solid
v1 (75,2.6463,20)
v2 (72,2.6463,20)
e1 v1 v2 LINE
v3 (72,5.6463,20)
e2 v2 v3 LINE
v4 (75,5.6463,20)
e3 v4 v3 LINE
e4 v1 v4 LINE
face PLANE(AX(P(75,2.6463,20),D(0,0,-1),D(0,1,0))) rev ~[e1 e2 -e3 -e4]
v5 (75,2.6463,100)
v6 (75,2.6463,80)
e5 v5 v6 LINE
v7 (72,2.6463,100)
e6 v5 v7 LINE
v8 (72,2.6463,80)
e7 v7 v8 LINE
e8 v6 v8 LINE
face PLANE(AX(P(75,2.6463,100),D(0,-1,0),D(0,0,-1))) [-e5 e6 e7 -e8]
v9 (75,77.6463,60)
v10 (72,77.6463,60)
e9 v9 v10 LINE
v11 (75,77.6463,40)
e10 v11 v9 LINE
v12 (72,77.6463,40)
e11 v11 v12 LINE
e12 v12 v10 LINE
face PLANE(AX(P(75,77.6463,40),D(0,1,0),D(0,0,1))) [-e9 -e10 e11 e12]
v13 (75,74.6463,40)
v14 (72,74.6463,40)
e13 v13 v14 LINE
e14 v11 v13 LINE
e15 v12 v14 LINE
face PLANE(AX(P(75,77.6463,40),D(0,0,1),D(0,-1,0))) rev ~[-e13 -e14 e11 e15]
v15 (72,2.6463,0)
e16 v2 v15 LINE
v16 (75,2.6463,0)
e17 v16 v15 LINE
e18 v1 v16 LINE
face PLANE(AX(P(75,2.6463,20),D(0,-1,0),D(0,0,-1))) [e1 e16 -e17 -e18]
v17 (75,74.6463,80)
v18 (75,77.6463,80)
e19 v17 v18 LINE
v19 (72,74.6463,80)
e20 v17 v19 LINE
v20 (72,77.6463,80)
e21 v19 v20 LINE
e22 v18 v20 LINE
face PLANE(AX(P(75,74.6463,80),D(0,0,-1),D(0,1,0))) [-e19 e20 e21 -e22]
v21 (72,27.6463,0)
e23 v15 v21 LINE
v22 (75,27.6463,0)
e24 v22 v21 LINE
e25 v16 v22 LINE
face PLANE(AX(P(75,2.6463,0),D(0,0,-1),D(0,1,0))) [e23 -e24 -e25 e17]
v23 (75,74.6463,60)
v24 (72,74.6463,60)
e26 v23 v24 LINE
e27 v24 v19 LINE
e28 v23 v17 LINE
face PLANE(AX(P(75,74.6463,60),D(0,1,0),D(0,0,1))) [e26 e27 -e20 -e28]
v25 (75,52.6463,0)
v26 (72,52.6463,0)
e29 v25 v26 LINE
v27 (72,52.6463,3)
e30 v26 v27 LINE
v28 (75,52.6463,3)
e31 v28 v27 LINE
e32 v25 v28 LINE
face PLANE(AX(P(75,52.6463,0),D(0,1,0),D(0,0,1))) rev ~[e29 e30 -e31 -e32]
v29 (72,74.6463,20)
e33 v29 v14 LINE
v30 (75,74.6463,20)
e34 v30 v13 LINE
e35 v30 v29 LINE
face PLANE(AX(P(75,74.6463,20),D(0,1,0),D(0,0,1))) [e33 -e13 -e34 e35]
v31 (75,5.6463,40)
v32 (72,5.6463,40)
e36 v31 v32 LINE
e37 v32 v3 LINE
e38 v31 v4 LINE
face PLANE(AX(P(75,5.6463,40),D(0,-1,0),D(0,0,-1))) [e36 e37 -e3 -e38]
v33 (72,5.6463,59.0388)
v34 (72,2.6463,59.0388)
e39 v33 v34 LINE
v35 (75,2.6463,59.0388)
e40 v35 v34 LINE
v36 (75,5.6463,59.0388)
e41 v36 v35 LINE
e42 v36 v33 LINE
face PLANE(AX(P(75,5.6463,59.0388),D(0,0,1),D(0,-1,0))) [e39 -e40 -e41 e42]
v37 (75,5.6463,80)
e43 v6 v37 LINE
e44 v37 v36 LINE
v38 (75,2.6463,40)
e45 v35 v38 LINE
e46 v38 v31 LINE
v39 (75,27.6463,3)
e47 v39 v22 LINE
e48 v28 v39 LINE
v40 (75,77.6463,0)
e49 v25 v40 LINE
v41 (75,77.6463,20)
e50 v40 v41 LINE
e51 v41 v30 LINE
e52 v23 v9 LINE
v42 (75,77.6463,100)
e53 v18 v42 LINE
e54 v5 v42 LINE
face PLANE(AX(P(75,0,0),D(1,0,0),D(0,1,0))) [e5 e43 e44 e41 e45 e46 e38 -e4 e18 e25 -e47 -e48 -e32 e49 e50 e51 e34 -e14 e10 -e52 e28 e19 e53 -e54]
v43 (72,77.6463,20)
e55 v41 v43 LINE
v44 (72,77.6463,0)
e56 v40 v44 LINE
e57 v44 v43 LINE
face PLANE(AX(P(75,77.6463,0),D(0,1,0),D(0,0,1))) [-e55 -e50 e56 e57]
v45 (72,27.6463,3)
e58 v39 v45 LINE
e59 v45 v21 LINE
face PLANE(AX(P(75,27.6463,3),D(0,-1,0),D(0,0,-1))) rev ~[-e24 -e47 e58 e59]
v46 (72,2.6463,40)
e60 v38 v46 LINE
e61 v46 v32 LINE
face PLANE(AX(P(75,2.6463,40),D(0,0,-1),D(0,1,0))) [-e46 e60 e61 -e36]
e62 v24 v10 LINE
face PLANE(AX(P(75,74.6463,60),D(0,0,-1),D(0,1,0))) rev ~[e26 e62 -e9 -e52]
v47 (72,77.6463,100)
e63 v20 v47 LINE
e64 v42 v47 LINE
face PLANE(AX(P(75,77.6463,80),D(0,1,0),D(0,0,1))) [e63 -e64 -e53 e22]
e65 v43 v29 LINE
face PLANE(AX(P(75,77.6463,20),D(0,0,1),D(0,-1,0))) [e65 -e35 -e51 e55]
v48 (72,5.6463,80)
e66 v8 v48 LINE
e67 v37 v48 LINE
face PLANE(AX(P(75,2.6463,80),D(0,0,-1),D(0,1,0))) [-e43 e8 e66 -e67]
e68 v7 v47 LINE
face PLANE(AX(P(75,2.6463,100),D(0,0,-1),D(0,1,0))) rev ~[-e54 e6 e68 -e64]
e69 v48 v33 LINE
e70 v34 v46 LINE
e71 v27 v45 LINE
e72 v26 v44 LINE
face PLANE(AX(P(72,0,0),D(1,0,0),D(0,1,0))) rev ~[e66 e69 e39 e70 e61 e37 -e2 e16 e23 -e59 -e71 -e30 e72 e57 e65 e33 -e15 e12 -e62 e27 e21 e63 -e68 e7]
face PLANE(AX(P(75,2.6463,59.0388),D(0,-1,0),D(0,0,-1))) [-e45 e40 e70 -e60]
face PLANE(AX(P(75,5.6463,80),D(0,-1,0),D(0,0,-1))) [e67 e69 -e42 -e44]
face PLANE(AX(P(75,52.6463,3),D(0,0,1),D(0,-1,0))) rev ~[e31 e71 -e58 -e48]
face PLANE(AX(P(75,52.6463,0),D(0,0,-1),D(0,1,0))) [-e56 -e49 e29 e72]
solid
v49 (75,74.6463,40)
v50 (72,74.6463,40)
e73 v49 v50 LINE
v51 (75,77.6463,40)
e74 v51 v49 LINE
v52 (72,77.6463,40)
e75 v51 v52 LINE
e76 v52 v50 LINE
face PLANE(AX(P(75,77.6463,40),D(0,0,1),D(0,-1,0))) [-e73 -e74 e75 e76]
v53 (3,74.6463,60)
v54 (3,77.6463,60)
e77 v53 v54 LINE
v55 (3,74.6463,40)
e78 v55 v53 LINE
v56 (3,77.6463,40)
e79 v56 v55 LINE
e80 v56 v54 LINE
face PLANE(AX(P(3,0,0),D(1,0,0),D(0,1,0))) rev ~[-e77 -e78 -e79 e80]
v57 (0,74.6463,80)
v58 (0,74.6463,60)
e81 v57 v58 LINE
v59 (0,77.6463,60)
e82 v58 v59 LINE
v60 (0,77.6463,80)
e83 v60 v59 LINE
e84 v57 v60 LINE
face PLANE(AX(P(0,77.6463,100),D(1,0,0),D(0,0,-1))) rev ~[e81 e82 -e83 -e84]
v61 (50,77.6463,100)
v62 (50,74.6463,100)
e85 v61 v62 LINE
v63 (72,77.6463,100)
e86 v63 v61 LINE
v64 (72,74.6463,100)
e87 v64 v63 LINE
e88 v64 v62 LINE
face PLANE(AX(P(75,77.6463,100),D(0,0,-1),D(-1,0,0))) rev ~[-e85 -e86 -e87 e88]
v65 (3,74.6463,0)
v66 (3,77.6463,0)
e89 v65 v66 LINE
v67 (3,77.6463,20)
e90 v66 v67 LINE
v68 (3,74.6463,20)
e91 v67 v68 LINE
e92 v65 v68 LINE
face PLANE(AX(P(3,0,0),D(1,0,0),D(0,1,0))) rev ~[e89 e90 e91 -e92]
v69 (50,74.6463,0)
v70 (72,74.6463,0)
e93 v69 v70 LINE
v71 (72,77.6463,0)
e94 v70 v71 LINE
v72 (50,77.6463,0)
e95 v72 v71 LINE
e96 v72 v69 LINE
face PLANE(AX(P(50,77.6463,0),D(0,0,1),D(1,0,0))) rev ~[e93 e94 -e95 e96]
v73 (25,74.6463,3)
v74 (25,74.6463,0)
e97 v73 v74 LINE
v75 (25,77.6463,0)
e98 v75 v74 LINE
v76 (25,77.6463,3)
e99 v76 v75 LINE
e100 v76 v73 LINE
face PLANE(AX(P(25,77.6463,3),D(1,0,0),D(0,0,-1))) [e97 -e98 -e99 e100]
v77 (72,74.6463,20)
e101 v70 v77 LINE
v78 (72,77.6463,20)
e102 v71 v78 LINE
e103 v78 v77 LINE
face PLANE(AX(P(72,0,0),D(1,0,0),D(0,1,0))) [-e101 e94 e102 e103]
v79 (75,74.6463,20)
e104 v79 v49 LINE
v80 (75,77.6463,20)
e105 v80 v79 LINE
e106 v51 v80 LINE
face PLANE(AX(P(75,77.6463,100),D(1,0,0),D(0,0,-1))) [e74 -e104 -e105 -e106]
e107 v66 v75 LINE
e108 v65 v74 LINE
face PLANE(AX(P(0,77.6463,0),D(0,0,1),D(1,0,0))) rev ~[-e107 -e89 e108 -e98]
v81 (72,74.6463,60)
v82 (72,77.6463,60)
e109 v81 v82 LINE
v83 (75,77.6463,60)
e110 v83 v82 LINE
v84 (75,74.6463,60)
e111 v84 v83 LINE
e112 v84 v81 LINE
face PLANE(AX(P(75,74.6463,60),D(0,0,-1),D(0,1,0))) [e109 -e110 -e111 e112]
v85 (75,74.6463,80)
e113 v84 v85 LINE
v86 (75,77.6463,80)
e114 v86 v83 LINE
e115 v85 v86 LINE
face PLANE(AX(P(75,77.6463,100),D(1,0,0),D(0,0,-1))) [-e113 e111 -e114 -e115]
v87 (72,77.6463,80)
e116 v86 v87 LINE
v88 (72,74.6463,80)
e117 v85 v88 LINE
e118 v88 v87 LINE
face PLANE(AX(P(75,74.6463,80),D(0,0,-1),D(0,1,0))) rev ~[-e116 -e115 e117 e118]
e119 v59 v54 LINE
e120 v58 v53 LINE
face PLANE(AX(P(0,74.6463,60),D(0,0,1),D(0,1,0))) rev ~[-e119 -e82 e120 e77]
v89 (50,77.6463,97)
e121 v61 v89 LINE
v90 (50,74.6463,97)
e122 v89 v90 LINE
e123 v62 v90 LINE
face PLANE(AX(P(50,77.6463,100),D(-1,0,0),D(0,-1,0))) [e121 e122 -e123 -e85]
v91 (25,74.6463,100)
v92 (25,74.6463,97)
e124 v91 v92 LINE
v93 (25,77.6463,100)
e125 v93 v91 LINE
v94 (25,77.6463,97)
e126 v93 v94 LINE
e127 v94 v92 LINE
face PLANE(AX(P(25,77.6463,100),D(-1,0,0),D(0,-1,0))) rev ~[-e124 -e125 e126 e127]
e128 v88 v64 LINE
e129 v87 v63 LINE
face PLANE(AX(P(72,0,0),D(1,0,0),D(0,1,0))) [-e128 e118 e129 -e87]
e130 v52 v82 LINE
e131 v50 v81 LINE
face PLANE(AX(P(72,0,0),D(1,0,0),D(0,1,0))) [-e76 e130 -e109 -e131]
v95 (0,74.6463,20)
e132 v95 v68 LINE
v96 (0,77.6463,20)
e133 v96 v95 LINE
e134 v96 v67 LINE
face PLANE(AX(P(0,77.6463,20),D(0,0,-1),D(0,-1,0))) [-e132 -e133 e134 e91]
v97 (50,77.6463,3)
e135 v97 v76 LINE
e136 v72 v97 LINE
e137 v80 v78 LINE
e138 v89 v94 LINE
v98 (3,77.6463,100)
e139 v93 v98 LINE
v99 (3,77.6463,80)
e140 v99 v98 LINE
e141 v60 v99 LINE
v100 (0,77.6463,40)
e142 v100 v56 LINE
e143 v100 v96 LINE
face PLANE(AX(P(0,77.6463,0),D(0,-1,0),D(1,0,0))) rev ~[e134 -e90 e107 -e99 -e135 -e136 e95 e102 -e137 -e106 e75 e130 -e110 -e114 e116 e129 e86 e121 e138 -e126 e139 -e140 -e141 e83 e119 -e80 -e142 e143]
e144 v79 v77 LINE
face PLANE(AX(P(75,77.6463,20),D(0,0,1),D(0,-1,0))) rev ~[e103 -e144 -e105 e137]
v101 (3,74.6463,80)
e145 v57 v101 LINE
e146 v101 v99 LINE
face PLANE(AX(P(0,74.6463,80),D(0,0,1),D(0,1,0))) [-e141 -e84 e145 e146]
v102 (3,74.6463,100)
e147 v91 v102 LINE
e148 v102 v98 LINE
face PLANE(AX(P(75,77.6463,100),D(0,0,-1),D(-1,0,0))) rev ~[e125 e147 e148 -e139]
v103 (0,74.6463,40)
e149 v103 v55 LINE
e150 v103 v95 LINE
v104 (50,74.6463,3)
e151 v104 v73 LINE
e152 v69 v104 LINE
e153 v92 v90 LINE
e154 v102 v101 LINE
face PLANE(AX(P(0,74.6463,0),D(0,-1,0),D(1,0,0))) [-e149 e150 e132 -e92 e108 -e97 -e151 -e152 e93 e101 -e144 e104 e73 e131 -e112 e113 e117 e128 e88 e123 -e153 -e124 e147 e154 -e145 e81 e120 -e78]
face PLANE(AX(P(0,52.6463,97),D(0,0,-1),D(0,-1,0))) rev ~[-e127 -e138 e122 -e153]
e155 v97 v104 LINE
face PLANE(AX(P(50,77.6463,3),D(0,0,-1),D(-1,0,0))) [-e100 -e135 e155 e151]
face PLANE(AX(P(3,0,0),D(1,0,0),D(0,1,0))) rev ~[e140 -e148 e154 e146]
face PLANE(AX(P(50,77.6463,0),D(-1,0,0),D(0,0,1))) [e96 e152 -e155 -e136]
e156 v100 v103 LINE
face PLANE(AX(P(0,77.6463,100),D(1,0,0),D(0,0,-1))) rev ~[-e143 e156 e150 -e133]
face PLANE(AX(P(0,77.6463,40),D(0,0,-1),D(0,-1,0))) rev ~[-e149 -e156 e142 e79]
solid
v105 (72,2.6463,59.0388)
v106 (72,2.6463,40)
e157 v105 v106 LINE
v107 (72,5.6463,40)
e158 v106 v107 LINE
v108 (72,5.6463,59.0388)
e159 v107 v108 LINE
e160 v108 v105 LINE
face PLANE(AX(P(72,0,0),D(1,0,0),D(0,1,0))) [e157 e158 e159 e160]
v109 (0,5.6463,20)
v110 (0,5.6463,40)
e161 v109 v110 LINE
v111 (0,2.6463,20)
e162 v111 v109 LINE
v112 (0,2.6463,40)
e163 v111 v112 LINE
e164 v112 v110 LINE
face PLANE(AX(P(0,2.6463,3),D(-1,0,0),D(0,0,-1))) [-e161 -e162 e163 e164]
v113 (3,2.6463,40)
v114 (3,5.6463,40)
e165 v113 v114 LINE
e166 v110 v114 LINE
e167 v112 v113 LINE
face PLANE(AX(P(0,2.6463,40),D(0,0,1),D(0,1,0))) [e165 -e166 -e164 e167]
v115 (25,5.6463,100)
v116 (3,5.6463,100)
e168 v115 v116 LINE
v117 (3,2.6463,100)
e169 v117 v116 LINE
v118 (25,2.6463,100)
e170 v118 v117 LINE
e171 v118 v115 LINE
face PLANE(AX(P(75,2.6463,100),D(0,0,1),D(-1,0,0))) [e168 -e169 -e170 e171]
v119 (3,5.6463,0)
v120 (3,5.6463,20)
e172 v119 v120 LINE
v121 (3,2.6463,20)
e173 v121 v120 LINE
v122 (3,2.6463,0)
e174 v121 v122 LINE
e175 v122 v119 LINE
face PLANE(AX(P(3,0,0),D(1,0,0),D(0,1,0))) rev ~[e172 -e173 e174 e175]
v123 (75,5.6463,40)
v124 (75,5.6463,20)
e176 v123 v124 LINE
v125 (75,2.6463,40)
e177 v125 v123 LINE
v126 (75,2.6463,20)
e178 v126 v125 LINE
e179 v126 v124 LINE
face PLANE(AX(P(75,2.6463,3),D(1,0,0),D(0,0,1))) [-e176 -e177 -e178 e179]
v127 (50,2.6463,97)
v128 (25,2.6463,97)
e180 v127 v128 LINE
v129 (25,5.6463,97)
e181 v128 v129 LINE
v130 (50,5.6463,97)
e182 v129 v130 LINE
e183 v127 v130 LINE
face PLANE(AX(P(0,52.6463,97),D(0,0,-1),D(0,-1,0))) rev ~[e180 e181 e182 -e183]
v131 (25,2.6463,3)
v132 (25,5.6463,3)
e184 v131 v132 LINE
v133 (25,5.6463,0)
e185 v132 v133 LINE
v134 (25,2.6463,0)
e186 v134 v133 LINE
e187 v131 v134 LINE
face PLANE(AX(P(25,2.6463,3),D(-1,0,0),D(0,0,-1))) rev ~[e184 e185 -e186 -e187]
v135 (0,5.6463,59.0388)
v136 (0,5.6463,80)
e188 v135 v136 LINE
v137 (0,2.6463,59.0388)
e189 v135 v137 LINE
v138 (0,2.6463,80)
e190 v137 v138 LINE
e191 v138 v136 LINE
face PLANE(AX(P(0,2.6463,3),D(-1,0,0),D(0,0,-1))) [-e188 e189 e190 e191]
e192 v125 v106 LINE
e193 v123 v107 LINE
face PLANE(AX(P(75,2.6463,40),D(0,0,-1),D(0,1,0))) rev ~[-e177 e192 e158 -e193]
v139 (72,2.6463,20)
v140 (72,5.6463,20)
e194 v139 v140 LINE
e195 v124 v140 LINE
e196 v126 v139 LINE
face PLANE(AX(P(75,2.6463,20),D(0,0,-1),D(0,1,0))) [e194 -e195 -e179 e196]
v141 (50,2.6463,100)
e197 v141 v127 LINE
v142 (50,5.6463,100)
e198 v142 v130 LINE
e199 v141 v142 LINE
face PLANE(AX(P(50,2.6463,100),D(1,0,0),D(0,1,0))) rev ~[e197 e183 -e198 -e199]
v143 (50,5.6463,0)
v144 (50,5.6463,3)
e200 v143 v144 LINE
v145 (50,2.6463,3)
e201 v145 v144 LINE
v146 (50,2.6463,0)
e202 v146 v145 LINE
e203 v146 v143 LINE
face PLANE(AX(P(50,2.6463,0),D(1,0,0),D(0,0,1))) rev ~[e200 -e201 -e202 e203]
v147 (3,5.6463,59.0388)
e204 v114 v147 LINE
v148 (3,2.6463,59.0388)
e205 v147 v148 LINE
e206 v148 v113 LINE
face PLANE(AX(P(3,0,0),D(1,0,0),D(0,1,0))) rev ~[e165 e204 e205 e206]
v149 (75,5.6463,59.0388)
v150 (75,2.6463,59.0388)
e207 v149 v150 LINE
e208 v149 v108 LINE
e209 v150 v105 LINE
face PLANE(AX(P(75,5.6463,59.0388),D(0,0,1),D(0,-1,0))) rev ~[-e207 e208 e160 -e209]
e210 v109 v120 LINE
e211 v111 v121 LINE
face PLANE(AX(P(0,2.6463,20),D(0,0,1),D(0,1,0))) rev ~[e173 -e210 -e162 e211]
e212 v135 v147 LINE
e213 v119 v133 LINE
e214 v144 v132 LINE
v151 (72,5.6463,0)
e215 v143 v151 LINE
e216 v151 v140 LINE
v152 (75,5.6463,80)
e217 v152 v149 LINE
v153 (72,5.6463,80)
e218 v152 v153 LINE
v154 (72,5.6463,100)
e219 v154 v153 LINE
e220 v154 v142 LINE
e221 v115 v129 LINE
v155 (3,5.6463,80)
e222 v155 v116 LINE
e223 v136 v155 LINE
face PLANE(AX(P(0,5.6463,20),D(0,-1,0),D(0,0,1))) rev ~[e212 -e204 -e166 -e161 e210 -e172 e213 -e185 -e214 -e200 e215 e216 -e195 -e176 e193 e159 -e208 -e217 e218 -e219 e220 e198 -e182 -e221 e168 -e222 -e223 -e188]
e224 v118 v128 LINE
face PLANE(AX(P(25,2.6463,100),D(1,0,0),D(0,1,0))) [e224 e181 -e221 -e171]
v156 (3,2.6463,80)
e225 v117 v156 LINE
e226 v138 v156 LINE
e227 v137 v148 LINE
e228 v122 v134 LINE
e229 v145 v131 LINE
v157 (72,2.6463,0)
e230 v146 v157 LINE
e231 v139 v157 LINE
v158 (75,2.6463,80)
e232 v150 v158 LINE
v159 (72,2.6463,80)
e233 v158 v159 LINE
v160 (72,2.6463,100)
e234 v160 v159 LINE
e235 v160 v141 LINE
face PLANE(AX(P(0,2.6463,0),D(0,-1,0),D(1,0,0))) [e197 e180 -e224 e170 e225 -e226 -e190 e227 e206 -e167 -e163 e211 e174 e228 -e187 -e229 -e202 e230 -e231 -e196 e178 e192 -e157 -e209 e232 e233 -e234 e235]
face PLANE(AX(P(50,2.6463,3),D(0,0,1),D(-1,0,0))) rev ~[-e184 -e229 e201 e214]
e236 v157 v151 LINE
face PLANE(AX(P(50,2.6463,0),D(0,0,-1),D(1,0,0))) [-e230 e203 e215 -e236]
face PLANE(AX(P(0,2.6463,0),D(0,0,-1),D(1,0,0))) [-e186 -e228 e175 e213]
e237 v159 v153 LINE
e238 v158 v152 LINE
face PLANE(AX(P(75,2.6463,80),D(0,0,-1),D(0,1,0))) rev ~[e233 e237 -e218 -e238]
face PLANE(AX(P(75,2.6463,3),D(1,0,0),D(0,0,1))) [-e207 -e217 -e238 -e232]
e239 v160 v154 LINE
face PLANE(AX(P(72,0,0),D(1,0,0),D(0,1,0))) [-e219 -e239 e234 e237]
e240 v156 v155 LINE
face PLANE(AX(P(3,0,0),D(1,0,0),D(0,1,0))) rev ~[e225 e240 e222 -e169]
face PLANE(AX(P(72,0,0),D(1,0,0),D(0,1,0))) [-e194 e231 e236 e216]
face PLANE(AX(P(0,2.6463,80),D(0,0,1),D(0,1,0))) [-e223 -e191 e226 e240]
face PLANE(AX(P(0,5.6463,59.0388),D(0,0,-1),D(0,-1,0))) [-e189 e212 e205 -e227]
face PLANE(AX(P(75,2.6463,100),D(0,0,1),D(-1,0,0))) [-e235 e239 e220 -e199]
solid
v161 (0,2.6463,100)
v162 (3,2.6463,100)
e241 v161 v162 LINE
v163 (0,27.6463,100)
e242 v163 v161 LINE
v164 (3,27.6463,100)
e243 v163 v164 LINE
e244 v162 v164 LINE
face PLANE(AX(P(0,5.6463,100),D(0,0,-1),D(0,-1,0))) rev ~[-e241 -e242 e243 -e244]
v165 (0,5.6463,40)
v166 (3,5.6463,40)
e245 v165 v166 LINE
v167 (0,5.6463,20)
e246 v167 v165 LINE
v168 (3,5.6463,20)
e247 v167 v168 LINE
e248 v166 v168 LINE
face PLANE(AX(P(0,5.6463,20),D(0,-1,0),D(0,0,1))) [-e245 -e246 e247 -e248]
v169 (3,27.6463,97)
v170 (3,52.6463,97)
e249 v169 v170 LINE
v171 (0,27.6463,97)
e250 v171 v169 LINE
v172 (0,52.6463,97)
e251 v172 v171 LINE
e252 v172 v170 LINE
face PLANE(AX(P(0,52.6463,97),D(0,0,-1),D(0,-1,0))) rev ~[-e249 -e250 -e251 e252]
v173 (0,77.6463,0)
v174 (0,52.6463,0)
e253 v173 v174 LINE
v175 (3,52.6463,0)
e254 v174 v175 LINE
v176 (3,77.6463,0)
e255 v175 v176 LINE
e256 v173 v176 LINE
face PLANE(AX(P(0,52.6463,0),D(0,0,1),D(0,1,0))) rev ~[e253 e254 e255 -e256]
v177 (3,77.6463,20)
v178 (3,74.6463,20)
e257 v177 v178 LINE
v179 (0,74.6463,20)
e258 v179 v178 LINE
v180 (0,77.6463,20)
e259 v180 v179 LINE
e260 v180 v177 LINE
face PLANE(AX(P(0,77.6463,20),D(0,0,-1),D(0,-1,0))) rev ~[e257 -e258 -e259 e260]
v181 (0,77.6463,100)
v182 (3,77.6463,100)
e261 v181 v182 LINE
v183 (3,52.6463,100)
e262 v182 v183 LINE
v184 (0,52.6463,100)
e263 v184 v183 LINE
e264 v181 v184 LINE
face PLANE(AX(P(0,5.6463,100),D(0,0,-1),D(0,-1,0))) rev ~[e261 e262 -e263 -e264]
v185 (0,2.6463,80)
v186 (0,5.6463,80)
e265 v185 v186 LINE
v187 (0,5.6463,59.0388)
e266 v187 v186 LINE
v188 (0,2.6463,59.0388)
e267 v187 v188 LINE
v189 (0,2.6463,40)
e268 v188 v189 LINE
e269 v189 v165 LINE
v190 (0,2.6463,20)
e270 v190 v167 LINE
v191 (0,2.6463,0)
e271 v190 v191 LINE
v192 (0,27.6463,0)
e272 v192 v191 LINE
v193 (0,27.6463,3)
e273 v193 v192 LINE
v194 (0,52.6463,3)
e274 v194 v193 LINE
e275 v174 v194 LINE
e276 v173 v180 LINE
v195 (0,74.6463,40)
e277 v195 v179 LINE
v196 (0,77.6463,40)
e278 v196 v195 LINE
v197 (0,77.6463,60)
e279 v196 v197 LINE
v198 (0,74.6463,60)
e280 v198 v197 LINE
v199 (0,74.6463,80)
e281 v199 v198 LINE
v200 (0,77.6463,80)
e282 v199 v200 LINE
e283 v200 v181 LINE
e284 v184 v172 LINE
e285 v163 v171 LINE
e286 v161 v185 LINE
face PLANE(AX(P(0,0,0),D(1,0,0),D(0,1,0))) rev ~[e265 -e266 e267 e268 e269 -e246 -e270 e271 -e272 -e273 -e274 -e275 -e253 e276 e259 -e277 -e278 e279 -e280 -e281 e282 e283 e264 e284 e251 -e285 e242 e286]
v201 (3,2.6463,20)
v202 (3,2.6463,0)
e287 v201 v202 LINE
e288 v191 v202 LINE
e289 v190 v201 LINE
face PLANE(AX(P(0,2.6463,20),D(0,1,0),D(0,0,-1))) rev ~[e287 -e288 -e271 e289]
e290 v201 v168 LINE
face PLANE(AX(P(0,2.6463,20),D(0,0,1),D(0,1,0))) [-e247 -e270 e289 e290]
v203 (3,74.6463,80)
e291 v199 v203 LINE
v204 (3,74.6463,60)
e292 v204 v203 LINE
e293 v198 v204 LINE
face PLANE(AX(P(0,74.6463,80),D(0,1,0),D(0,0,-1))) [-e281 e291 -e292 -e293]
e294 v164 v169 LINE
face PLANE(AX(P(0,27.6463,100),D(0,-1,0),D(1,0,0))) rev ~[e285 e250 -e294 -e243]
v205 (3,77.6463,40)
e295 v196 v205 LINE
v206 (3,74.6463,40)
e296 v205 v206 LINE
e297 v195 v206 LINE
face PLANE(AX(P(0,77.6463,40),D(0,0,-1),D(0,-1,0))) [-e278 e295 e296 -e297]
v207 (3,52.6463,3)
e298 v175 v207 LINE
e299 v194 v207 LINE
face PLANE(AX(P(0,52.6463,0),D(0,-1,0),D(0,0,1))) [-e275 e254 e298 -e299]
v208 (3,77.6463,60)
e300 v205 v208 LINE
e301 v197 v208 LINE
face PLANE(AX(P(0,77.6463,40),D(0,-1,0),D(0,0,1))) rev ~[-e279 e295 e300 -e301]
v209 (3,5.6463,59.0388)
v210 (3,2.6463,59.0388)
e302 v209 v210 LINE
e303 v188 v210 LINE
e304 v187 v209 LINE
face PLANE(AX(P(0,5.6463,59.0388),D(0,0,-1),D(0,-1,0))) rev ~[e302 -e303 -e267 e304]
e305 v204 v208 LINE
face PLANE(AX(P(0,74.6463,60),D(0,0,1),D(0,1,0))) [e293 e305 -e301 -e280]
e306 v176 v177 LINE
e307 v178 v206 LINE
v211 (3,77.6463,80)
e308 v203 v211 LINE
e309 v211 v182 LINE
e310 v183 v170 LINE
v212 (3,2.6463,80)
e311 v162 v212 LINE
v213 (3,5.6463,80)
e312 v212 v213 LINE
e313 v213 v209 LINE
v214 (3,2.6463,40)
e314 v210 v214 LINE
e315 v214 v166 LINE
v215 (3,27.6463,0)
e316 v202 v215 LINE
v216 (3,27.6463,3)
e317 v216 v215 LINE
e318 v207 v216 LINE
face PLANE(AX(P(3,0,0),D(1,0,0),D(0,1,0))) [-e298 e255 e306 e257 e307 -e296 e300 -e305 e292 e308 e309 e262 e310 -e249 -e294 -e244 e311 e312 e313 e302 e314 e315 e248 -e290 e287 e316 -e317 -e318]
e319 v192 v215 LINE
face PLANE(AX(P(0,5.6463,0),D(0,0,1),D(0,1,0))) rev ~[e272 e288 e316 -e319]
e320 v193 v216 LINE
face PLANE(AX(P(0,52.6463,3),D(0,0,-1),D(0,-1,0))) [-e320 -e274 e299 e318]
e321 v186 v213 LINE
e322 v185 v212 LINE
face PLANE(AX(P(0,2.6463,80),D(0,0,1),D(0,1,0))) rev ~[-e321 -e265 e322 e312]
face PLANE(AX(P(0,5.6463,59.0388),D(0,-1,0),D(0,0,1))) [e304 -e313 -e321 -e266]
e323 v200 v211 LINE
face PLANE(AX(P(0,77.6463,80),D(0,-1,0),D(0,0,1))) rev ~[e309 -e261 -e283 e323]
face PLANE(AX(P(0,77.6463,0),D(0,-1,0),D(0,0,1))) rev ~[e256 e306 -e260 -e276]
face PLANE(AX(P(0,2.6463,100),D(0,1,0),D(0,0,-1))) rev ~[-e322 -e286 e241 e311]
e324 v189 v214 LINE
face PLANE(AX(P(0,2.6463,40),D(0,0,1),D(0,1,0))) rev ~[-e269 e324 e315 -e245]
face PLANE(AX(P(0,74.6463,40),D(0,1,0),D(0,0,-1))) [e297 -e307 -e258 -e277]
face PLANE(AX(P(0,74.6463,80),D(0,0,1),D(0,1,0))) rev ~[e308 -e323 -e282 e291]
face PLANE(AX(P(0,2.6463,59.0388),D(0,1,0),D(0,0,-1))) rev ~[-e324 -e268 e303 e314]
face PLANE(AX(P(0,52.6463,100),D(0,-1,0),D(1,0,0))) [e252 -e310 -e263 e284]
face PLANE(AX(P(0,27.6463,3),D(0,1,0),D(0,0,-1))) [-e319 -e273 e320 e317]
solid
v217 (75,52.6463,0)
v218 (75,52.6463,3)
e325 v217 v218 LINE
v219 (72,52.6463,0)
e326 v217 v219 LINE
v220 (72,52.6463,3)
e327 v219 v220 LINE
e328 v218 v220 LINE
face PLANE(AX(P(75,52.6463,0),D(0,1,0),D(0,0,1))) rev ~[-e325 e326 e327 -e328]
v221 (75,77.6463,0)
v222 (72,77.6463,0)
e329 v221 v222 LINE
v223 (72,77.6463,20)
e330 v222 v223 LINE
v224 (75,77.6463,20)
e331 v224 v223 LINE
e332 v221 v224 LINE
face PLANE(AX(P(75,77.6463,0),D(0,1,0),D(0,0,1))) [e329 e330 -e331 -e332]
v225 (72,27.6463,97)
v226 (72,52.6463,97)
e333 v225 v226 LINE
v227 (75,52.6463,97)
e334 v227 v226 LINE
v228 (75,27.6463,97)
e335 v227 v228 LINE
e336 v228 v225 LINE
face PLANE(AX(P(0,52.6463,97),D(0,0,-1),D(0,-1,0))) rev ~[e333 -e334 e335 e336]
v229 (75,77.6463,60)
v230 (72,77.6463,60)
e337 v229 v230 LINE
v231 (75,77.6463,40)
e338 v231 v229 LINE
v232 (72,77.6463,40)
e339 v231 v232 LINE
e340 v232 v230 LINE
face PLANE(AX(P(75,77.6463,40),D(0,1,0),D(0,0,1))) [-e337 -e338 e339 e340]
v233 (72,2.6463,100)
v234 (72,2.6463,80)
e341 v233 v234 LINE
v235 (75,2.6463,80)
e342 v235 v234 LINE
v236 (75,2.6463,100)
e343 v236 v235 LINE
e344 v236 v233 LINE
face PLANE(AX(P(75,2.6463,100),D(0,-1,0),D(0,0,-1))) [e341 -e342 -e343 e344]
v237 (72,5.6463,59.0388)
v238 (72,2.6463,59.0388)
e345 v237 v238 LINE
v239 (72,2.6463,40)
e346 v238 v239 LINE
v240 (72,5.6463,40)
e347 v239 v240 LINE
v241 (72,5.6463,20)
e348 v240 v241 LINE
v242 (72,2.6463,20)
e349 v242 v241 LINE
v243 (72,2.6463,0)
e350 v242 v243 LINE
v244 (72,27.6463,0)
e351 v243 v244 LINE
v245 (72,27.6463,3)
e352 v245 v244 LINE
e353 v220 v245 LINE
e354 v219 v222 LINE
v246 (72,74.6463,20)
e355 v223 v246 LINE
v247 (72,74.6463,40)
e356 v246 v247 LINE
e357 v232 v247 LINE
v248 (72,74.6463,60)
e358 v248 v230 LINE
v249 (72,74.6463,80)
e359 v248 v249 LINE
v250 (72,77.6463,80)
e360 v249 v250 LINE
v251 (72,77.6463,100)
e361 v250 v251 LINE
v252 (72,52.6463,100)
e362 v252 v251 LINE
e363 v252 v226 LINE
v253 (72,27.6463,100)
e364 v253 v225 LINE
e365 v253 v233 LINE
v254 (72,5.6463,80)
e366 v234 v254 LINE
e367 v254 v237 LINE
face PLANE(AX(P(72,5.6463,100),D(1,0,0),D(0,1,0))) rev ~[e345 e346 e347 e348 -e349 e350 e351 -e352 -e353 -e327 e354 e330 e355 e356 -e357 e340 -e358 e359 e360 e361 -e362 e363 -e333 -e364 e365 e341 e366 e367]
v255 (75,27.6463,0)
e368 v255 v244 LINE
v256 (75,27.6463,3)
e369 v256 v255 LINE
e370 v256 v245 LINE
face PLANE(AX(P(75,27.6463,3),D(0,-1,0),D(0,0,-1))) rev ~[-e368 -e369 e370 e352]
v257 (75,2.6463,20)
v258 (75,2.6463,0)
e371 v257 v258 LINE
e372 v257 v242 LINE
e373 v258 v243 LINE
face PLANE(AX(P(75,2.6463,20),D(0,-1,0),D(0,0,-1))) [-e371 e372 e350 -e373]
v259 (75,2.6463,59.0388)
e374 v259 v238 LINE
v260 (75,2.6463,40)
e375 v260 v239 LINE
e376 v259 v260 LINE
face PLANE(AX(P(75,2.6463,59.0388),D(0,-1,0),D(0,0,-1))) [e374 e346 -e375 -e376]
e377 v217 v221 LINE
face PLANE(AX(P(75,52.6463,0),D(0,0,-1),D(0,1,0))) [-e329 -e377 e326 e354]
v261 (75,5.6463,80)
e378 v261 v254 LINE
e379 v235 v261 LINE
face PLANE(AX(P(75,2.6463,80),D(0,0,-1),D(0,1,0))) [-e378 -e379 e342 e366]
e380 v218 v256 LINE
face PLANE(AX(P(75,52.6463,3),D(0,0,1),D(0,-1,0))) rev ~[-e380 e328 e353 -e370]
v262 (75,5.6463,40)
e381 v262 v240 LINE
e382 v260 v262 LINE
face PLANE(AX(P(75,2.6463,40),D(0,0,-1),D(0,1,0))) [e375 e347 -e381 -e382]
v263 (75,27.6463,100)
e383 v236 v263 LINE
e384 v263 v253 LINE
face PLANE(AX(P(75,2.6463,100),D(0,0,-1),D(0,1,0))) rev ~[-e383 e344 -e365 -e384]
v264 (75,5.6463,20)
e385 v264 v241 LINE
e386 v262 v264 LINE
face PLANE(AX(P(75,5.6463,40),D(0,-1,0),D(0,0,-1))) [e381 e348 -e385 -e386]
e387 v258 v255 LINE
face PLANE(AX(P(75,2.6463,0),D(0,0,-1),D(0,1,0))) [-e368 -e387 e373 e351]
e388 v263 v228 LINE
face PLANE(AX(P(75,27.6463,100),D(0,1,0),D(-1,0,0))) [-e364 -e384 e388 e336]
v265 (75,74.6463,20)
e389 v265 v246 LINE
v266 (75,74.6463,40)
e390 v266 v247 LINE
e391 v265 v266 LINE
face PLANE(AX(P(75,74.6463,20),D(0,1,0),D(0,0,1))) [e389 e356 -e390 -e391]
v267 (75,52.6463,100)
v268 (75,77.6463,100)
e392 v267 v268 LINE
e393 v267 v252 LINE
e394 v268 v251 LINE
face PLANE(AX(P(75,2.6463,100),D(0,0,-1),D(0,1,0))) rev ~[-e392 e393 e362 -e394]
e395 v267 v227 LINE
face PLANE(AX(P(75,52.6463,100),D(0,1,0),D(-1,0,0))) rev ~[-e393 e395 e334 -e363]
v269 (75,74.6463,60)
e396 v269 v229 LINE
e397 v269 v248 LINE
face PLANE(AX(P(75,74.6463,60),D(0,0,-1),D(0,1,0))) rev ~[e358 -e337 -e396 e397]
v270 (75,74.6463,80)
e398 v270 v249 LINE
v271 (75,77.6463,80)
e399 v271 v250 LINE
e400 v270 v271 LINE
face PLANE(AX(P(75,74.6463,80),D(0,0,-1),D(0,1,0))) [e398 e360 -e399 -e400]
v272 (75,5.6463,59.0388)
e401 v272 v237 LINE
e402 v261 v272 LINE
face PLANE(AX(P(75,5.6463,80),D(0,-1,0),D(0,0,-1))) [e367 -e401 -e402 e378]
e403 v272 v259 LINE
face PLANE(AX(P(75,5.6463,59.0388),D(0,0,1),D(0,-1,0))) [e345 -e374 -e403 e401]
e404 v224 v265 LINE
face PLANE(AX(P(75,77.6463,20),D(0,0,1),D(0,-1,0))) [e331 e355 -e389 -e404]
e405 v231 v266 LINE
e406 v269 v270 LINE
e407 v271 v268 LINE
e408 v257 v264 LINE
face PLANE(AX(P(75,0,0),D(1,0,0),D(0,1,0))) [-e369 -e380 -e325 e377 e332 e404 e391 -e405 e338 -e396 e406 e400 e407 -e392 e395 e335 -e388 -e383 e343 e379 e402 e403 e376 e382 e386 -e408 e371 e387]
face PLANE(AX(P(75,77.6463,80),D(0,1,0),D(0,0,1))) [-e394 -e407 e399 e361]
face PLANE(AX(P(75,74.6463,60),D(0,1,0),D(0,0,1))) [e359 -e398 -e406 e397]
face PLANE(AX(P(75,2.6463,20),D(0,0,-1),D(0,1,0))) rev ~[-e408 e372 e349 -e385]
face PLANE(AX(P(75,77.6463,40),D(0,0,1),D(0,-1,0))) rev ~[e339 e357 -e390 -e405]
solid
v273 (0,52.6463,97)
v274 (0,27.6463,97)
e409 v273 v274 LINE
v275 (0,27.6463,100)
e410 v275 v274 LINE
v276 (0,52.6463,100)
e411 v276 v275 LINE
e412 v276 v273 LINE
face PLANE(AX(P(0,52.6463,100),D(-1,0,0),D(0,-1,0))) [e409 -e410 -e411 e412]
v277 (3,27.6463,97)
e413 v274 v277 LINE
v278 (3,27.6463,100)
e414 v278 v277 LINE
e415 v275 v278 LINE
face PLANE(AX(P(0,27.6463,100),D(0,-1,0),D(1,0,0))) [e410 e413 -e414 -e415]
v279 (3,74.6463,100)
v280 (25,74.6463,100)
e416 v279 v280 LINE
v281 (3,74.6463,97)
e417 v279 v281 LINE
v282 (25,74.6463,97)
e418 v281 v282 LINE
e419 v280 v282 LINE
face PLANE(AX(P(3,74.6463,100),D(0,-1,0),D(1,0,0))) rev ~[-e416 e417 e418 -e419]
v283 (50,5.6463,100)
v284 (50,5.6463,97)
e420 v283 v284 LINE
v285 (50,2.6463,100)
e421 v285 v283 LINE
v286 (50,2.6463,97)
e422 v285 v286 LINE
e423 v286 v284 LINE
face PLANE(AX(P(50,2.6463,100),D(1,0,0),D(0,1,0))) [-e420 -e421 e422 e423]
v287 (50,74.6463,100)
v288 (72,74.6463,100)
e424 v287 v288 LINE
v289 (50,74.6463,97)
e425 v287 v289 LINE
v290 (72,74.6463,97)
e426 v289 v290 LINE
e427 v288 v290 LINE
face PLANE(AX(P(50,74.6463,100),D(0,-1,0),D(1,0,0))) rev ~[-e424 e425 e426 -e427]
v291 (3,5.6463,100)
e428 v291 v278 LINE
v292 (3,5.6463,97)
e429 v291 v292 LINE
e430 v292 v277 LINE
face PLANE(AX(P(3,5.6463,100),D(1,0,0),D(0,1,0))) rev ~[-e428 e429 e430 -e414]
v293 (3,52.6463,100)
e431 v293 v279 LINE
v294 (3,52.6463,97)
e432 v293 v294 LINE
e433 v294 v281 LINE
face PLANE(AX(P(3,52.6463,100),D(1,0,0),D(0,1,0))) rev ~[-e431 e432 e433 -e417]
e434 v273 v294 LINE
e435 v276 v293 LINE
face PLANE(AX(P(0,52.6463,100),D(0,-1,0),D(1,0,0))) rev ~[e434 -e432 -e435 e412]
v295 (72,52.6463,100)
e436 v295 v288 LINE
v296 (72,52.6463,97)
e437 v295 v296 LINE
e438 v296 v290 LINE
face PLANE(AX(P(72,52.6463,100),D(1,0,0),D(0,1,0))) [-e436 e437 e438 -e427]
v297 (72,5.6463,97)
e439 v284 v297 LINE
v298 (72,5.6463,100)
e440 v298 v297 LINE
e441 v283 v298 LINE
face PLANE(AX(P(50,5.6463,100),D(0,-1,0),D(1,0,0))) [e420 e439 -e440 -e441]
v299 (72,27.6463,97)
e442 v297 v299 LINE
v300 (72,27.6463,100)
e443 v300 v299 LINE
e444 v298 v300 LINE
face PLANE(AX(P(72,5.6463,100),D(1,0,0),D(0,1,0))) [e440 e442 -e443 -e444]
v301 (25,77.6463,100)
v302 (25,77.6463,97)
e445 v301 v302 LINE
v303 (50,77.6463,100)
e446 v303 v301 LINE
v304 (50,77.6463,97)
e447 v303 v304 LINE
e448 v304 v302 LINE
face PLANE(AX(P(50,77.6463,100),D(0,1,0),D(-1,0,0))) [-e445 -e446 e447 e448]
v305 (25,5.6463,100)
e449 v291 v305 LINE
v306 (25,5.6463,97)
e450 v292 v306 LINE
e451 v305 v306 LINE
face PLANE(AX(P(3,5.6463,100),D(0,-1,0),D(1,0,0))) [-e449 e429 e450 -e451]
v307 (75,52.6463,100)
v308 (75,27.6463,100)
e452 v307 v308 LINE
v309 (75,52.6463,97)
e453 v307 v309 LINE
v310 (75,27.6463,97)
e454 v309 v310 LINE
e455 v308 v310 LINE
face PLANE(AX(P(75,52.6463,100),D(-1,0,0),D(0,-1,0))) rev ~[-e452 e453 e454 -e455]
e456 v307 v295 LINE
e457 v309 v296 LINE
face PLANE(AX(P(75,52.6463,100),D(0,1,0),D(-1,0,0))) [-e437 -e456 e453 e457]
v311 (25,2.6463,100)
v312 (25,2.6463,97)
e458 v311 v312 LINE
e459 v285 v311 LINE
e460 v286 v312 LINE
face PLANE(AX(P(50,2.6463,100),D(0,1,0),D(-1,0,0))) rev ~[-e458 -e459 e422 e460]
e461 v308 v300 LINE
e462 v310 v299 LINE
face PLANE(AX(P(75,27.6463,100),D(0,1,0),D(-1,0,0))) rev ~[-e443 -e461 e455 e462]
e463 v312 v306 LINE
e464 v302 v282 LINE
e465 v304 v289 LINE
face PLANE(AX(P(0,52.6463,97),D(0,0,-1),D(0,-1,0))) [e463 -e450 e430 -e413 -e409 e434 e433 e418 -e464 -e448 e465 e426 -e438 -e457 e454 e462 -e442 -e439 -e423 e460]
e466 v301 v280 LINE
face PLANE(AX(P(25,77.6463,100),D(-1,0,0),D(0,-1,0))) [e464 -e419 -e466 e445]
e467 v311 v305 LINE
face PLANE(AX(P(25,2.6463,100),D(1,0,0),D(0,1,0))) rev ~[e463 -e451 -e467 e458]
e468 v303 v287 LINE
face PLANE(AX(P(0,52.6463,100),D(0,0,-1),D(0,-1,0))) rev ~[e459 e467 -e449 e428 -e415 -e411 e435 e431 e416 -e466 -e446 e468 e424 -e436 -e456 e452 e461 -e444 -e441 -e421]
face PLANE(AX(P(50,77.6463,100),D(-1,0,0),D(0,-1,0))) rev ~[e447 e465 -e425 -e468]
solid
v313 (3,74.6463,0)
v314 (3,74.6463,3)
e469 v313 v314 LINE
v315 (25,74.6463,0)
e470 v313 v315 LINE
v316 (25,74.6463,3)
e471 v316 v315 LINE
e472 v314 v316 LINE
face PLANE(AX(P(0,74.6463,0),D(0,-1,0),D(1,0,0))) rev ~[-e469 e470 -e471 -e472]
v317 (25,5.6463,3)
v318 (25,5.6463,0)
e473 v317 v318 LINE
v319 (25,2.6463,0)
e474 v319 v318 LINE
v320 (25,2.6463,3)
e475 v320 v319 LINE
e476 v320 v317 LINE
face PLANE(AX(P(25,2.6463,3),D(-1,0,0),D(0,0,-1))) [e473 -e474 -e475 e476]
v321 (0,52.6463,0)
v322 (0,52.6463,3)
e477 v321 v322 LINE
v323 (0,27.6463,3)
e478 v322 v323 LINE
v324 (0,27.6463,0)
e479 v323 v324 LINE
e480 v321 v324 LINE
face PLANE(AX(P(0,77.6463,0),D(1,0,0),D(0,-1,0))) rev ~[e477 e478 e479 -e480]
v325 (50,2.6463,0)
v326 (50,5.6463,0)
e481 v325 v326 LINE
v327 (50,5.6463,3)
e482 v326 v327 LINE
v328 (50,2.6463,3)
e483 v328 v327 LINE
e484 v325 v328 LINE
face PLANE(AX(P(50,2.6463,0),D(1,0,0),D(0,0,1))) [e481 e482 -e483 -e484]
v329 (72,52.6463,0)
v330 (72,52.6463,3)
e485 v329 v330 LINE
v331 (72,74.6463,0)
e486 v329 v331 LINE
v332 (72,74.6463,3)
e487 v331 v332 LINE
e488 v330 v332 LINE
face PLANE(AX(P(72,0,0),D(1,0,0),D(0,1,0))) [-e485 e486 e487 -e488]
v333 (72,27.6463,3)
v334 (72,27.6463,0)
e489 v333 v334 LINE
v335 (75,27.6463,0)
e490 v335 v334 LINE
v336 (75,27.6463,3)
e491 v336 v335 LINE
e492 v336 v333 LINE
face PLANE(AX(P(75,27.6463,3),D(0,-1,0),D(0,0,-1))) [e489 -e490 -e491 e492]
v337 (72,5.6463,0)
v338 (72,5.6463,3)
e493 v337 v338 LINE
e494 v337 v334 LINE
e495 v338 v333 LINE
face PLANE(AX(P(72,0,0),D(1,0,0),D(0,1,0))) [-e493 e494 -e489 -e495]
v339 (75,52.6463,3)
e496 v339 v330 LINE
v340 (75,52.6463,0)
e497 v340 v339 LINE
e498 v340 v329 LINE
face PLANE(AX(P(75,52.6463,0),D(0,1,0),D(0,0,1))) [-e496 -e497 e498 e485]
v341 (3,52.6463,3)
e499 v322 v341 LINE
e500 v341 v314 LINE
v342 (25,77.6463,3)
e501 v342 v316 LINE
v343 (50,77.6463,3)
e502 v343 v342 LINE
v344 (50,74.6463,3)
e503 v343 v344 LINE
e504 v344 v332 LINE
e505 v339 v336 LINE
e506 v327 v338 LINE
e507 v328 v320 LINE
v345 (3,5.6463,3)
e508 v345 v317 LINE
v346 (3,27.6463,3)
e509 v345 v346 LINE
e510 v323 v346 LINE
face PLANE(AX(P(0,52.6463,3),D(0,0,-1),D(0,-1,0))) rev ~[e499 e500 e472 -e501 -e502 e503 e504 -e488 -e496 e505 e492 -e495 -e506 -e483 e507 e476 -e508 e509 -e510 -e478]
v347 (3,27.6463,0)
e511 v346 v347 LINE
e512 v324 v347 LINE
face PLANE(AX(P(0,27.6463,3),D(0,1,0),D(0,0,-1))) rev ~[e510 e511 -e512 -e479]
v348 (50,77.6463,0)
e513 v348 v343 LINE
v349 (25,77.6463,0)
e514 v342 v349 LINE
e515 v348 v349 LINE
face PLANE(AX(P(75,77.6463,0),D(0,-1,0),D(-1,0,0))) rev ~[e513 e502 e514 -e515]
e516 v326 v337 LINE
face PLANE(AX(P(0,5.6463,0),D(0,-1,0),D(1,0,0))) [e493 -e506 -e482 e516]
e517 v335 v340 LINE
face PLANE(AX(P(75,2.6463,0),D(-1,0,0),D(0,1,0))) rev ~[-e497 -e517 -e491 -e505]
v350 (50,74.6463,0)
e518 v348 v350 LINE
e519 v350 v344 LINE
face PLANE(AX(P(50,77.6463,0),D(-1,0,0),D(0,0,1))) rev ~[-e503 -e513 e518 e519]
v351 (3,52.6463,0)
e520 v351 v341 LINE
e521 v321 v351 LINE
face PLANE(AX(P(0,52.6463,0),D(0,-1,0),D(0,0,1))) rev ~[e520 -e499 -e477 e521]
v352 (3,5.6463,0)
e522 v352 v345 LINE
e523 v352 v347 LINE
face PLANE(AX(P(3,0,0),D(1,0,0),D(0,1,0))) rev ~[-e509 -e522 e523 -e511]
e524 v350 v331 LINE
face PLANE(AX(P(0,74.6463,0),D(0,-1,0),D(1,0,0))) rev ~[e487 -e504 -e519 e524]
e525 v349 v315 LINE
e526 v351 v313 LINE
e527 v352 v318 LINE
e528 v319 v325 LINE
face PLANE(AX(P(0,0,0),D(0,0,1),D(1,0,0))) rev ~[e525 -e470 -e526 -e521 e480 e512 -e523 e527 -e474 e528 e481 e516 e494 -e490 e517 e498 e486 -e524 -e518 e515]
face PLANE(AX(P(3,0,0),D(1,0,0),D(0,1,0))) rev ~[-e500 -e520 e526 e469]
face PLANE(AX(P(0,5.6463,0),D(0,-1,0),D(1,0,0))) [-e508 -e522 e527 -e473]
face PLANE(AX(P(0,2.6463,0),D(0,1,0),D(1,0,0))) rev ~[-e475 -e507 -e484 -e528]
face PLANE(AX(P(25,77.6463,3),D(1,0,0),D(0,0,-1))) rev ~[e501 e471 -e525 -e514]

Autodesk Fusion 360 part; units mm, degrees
sketch "base" plane through (0, 0, 0) normal (0, 0, 1) x (1, 0, 0)
  line L0 (0, 2.6463) -> (75, 2.6463)
  line L1 (75, 2.6463) -> (75, 77.6463)
  line L2 (75, 77.6463) -> (0, 77.6463)
  line L3 (0, 77.6463) -> (0, 2.6463)
  dimension "d8" = 75
  dimension "d9" = 75
extrude "Extrude1" add sketch "base" along normal blind 3 makes body 1
sketch "front" plane through (0, 2.6463, 0) normal (0, -1, 0) x (1, 0, 0)
  line L0 (0, 0) -> (75, 0)
  line L1 (75, 0) -> (75, 3)
  line L2 (75, 3) -> (0, 3)
  line L3 (0, 3) -> (0, 0)
  line L4 (0, 0) -> (75, 0)
  line L5 (75, 0) -> (75, 100)
  line L6 (75, 100) -> (0, 100)
  line L7 (0, 100) -> (0, 0)
  line L8 (25, 0) -> (50, 0)
  line L9 (50, 0) -> (50, 3)
  line L10 (50, 3) -> (25, 3)
  line L11 (25, 3) -> (25, 0)
  dimension "d16" = 100
  dimension "d21" = 25
  dimension "d22" = 25
  dimension "d23" = 25
extrude "Extrude2" add sketch "front" against normal blind 3 separate body contours L0 L2 L3 L4 L7 L11 | L2 L5 L6 L7 L10 | L0 L1 L2 L4 L5 L9 makes body 2
extrude "Extrude3" add 1 faces at (33.3333, 5.6463, 67.6667) along direction (0, -1, 0) blind 3 from surface at -72 separate body on bodies 2 makes body 3
combine "Combine1" operation cut target body 1 tool bodies 3 2 keep tools
sketch "Sketch6" plane through (0, 0, 0) normal (1, 0, 0) x (0, 1, 0)
  line L0 (2.6463, 100) -> (2.6463, 0)
  line L1 (2.6463, 0) -> (5.6463, 0)
  line L2 (5.6463, 0) -> (5.6463, 100)
  line L3 (5.6463, 100) -> (2.6463, 100)
  line L4 (77.6463, 0) -> (77.6463, 100)
  line L5 (77.6463, 100) -> (74.6463, 100)
  line L6 (74.6463, 100) -> (74.6463, 0)
  line L7 (74.6463, 0) -> (77.6463, 0)
  line L8 (27.6463, 0) -> (52.6463, 0)
  line L9 (52.6463, 0) -> (52.6463, 3)
  line L10 (52.6463, 3) -> (27.6463, 3)
  line L11 (27.6463, 3) -> (27.6463, 0)
  line L12 (2.6463, 80) -> (5.6463, 80)
  line L13 (5.6463, 80) -> (5.6463, 60)
  line L14 (5.6463, 60) -> (2.6463, 60)
  line L15 (2.6463, 60) -> (2.6463, 80)
  line L16 (2.6463, 59.0388) -> (2.6463, 40)
  line L17 (2.6463, 40) -> (5.6463, 40)
  line L18 (5.6463, 40) -> (5.6463, 59.0388)
  line L19 (5.6463, 59.0388) -> (2.6463, 59.0388)
  line L20 (2.6463, 39.2994) -> (2.6463, 20)
  line L21 (2.6463, 20) -> (5.6463, 20)
  line L22 (5.6463, 20) -> (5.6463, 39.2994)
  line L23 (5.6463, 39.2994) -> (2.6463, 39.2994)
  line L24 (74.6463, 80) -> (77.6463, 80)
  line L25 (77.6463, 80) -> (77.6463, 63.0399)
  line L26 (77.6463, 63.0399) -> (74.6463, 63.0399)
  line L27 (74.6463, 63.0399) -> (74.6463, 80)
  line L28 (74.6463, 60) -> (77.6463, 60)
  line L29 (77.6463, 60) -> (77.6463, 40)
  line L30 (77.6463, 40) -> (74.6463, 40)
  line L31 (74.6463, 40) -> (74.6463, 60)
  line L32 (74.6463, 38.1297) -> (77.6463, 38.1297)
  line L33 (77.6463, 38.1297) -> (77.6463, 20)
  line L34 (77.6463, 20) -> (74.6463, 20)
  line L35 (74.6463, 20) -> (74.6463, 38.1297)
  line L36 (2.6463, 0) -> (77.6463, 0)
  line L37 (77.6463, 0) -> (77.6463, 100)
  line L38 (77.6463, 100) -> (2.6463, 100)
  line L39 (2.6463, 100) -> (2.6463, 0)
  dimension "d29" = 3
  dimension "d30" = 25
  dimension "d31" = 25
  dimension "d32" = 25
  dimension "d33" = 20
  dimension "d34" = 20
  dimension "d35" = 20
  dimension "d36" = 20
  dimension "d37" = 20
  dimension "d38" = 20
  dimension "d39" = 20
  dimension "d40" = 20
  dimension "d41" = 20
  dimension "d42" = 20
extrude "Extrude4" add sketch "Sketch6" along normal blind 3 separate body contours L0 L2 L3 L12 L38 L39 | L2 L6 L9 L10 L11 L13 L18 L22 L27 L31 L35 L36 L38 | L4 L5 L6 L24 L37 L38 | L0 L2 L16 L17 L18 L19 L39 | L4 L6 L28 L29 L30 L31 L37 | L0 L1 L2 L21 L36 L39 | L4 L6 L7 L34 L36 L37 makes body 4
extrude "Extrude6" add 1 faces at (3, 35.9796, 27.6667) along direction (-1, 0, 0) blind 3 from surface at -72 separate body on bodies 4 makes body 5
combine "Combine2" operation cut target body 2 tool bodies 4 5 keep tools
combine "Combine3" operation cut target body 3 tool bodies 4 5 keep tools
extrude "Extrude7" add 1 faces at (3, 35.9796, 27.6667) along direction (-1, 0, 0) blind 3 from surface at -72 on bodies 4 bodies 4 makes body 6
combine "Combine4" operation cut target body 1 tool bodies 4 6 keep tools
extrude "Extrude8" add 1 faces at (41.6667, 51.6463, 3) along direction (0, 0, -1) blind 3 from surface at -97 on bodies 1 bodies 1 makes body 7
combine "Combine5" operation cut target body 3 tool bodies 7 keep tools
combine "Combine6" operation cut target body 4 tool bodies 7 keep tools
combine "Combine7" operation cut target body 2 tool bodies 7 keep tools
combine "Combine8" operation cut target body 5 tool bodies 7 keep tools
sketch "Sketch7" plane through (0, 0, 100) normal (0, 0, 1) x (-1, 0, 0)
  line L0 (-75, -52.6463) -> (-72, -52.6463)
  line L1 (-72, -52.6463) -> (-72, -74.6463)
  line L2 (-72, -74.6463) -> (-50, -74.6463)
  line L3 (-50, -74.6463) -> (-50, -77.6463)
  line L4 (-50, -77.6463) -> (-25, -77.6463)
  line L5 (-25, -77.6463) -> (-25, -74.6463)
  line L6 (-25, -74.6463) -> (-3, -74.6463)
  line L7 (-3, -74.6463) -> (-3, -52.6463)
  line L8 (-3, -52.6463) -> (0, -52.6463)
  line L9 (0, -52.6463) -> (0, -27.6463)
  line L10 (0, -27.6463) -> (-3, -27.6463)
  line L11 (-3, -27.6463) -> (-3, -5.6463)
  line L12 (-3, -5.6463) -> (-25, -5.6463)
  line L13 (-25, -5.6463) -> (-25, -2.6463)
  line L14 (-25, -2.6463) -> (-50, -2.6463)
  line L15 (-50, -2.6463) -> (-50, -5.6463)
  line L16 (-50, -5.6463) -> (-72, -5.6463)
  line L17 (-72, -5.6463) -> (-72, -27.6463)
  line L18 (-72, -27.6463) -> (-75, -27.6463)
  line L19 (-75, -27.6463) -> (-75, -52.6463)
sketch "Sketch8" plane through (0, 2.6463, 0) normal (0, -1, 0) x (1, 0, 0)
  line L0 (25, 97) -> (25, 100)
  line L1 (25, 100) -> (3, 100)
  line L2 (3, 100) -> (3, 80)
  line L3 (3, 80) -> (0, 80)
  line L4 (0, 80) -> (0, 59.0388)
  line L5 (0, 59.0388) -> (3, 59.0388)
  line L6 (3, 59.0388) -> (3, 40)
  line L7 (3, 40) -> (0, 40)
  line L8 (0, 40) -> (0, 20)
  line L9 (0, 20) -> (3, 20)
  line L10 (3, 20) -> (3, 0)
  line L11 (3, 0) -> (25, 0)
  line L12 (25, 0) -> (25, 3)
  line L13 (25, 3) -> (50, 3)
  line L14 (50, 3) -> (50, 0)
  line L15 (50, 0) -> (72, 0)
  line L16 (72, 0) -> (72, 20)
  line L17 (72, 20) -> (75, 20)
  line L18 (75, 20) -> (75, 40)
  line L19 (75, 40) -> (72, 40)
  line L20 (72, 40) -> (72, 59.0388)
  line L21 (72, 59.0388) -> (75, 59.0388)
  line L22 (75, 59.0388) -> (75, 80)
  line L23 (75, 80) -> (72, 80)
  line L24 (72, 80) -> (72, 100)
  line L25 (72, 100) -> (50, 100)
  line L26 (50, 100) -> (50, 97)
  line L27 (50, 97) -> (25, 97)
sketch "Sketch9" plane through (75, 0, 0) normal (1, 0, 0) x (0, 1, 0)
  line L0 (52.6463, 100) -> (52.6463, 97)
  line L1 (52.6463, 97) -> (27.6463, 97)
  line L2 (27.6463, 97) -> (27.6463, 100)
  line L3 (27.6463, 100) -> (2.6463, 100)
  line L4 (2.6463, 100) -> (2.6463, 80)
  line L5 (2.6463, 80) -> (5.6463, 80)
  line L6 (5.6463, 80) -> (5.6463, 59.0388)
  line L7 (5.6463, 59.0388) -> (2.6463, 59.0388)
  line L8 (2.6463, 59.0388) -> (2.6463, 40)
  line L9 (2.6463, 40) -> (5.6463, 40)
  line L10 (5.6463, 40) -> (5.6463, 20)
  line L11 (5.6463, 20) -> (2.6463, 20)
  line L12 (2.6463, 20) -> (2.6463, 0)
  line L13 (2.6463, 0) -> (27.6463, 0)
  line L14 (27.6463, 0) -> (27.6463, 3)
  line L15 (27.6463, 3) -> (52.6463, 3)
  line L16 (52.6463, 3) -> (52.6463, 0)
  line L17 (52.6463, 0) -> (77.6463, 0)
  line L18 (77.6463, 0) -> (77.6463, 20)
  line L19 (77.6463, 20) -> (74.6463, 20)
  line L20 (74.6463, 20) -> (74.6463, 40)
  line L21 (74.6463, 40) -> (77.6463, 40)
  line L22 (77.6463, 40) -> (77.6463, 60)
  line L23 (77.6463, 60) -> (74.6463, 60)
  line L24 (74.6463, 60) -> (74.6463, 80)
  line L25 (74.6463, 80) -> (77.6463, 80)
  line L26 (77.6463, 80) -> (77.6463, 100)
  line L27 (77.6463, 100) -> (52.6463, 100)
sketch "Sketch10" plane through (0, 77.6463, 0) normal (0, 1, 0) x (-1, 0, 0)
  line L0 (-50, 97) -> (-50, 100)
  line L1 (-50, 100) -> (-72, 100)
  line L2 (-72, 100) -> (-72, 80)
  line L3 (-72, 80) -> (-75, 80)
  line L4 (-75, 80) -> (-75, 60)
  line L5 (-75, 60) -> (-72, 60)
  line L6 (-72, 60) -> (-72, 40)
  line L7 (-72, 40) -> (-75, 40)
  line L8 (-75, 40) -> (-75, 20)
  line L9 (-75, 20) -> (-72, 20)
  line L10 (-72, 20) -> (-72, 0)
  line L11 (-72, 0) -> (-50, 0)
  line L12 (-50, 0) -> (-50, 3)
  line L13 (-50, 3) -> (-25, 3)
  line L14 (-25, 3) -> (-25, 0)
  line L15 (-25, 0) -> (-3, 0)
  line L16 (-3, 0) -> (-3, 20)
  line L17 (-3, 20) -> (0, 20)
  line L18 (0, 20) -> (0, 40)
  line L19 (0, 40) -> (-3, 40)
  line L20 (-3, 40) -> (-3, 60)
  line L21 (-3, 60) -> (0, 60)
  line L22 (0, 60) -> (0, 80)
  line L23 (0, 80) -> (-3, 80)
  line L24 (-3, 80) -> (-3, 100)
  line L25 (-3, 100) -> (-25, 100)
  line L26 (-25, 100) -> (-25, 97)
  line L27 (-25, 97) -> (-50, 97)
sketch "Sketch11" plane through (0, 0, 0) normal (-1, 0, 0) x (0, -1, 0)
  line L0 (-27.6463, 100) -> (-27.6463, 97)
  line L1 (-27.6463, 97) -> (-52.6463, 97)
  line L2 (-52.6463, 97) -> (-52.6463, 100)
  line L3 (-52.6463, 100) -> (-77.6463, 100)
  line L4 (-77.6463, 100) -> (-77.6463, 80)
  line L5 (-77.6463, 80) -> (-74.6463, 80)
  line L6 (-74.6463, 80) -> (-74.6463, 60)
  line L7 (-74.6463, 60) -> (-77.6463, 60)
  line L8 (-77.6463, 60) -> (-77.6463, 40)
  line L9 (-77.6463, 40) -> (-74.6463, 40)
  line L10 (-74.6463, 40) -> (-74.6463, 20)
  line L11 (-74.6463, 20) -> (-77.6463, 20)
  line L12 (-77.6463, 20) -> (-77.6463, 0)
  line L13 (-77.6463, 0) -> (-52.6463, 0)
  line L14 (-52.6463, 0) -> (-52.6463, 3)
  line L15 (-52.6463, 3) -> (-27.6463, 3)
  line L16 (-27.6463, 3) -> (-27.6463, 0)
  line L17 (-27.6463, 0) -> (-2.6463, 0)
  line L18 (-2.6463, 0) -> (-2.6463, 20)
  line L19 (-2.6463, 20) -> (-5.6463, 20)
  line L20 (-5.6463, 20) -> (-5.6463, 40)
  line L21 (-5.6463, 40) -> (-2.6463, 40)
  line L22 (-2.6463, 40) -> (-2.6463, 59.0388)
  line L23 (-2.6463, 59.0388) -> (-5.6463, 59.0388)
  line L24 (-5.6463, 59.0388) -> (-5.6463, 80)
  line L25 (-5.6463, 80) -> (-2.6463, 80)
  line L26 (-2.6463, 80) -> (-2.6463, 100)
  line L27 (-2.6463, 100) -> (-27.6463, 100)
sketch "Sketch12" plane through (0, 0, 0) normal (0, 0, -1) x (1, 0, 0)
  line L0 (72, -74.6463) -> (72, -52.6463)
  line L1 (72, -52.6463) -> (75, -52.6463)
  line L2 (75, -52.6463) -> (75, -27.6463)
  line L3 (75, -27.6463) -> (72, -27.6463)
  line L4 (72, -27.6463) -> (72, -5.6463)
  line L5 (72, -5.6463) -> (50, -5.6463)
  line L6 (50, -5.6463) -> (50, -2.6463)
  line L7 (50, -2.6463) -> (25, -2.6463)
  line L8 (25, -2.6463) -> (25, -5.6463)
  line L9 (25, -5.6463) -> (3, -5.6463)
  line L10 (3, -5.6463) -> (3, -27.6463)
  line L11 (3, -27.6463) -> (0, -27.6463)
  line L12 (0, -27.6463) -> (0, -52.6463)
  line L13 (0, -52.6463) -> (3, -52.6463)
  line L14 (3, -52.6463) -> (3, -74.6463)
  line L15 (3, -74.6463) -> (25, -74.6463)
  line L16 (25, -74.6463) -> (25, -77.6463)
  line L17 (25, -77.6463) -> (50, -77.6463)
  line L18 (50, -77.6463) -> (50, -74.6463)
  line L19 (50, -74.6463) -> (72, -74.6463)
equation "length = 75 mm"
equation "width = 75 mm"
equation "height = 100 mm"
equation "hole = 60 mm"
equation "thickness = 3 mm"
equation "d8 = width"
equation "d9 = length"
equation "d10 = thickness"
equation "slotL = length / 3"
equation "slotW = width / 3"
equation "slotH = height / 5"
equation "d16 = height"
equation "d21 = slotL"
equation "d22 = slotL"
equation "d29 = thickness"
equation "d30 = slotW"
equation "d31 = slotW"
equation "d33 = slotH"
equation "d34 = slotH"
equation "d35 = slotH"
equation "d36 = slotH"
equation "d38 = slotH"
equation "d39 = slotH"
equation "d40 = slotH"
equation "d41 = slotH"
equation "d43 = thickness"
